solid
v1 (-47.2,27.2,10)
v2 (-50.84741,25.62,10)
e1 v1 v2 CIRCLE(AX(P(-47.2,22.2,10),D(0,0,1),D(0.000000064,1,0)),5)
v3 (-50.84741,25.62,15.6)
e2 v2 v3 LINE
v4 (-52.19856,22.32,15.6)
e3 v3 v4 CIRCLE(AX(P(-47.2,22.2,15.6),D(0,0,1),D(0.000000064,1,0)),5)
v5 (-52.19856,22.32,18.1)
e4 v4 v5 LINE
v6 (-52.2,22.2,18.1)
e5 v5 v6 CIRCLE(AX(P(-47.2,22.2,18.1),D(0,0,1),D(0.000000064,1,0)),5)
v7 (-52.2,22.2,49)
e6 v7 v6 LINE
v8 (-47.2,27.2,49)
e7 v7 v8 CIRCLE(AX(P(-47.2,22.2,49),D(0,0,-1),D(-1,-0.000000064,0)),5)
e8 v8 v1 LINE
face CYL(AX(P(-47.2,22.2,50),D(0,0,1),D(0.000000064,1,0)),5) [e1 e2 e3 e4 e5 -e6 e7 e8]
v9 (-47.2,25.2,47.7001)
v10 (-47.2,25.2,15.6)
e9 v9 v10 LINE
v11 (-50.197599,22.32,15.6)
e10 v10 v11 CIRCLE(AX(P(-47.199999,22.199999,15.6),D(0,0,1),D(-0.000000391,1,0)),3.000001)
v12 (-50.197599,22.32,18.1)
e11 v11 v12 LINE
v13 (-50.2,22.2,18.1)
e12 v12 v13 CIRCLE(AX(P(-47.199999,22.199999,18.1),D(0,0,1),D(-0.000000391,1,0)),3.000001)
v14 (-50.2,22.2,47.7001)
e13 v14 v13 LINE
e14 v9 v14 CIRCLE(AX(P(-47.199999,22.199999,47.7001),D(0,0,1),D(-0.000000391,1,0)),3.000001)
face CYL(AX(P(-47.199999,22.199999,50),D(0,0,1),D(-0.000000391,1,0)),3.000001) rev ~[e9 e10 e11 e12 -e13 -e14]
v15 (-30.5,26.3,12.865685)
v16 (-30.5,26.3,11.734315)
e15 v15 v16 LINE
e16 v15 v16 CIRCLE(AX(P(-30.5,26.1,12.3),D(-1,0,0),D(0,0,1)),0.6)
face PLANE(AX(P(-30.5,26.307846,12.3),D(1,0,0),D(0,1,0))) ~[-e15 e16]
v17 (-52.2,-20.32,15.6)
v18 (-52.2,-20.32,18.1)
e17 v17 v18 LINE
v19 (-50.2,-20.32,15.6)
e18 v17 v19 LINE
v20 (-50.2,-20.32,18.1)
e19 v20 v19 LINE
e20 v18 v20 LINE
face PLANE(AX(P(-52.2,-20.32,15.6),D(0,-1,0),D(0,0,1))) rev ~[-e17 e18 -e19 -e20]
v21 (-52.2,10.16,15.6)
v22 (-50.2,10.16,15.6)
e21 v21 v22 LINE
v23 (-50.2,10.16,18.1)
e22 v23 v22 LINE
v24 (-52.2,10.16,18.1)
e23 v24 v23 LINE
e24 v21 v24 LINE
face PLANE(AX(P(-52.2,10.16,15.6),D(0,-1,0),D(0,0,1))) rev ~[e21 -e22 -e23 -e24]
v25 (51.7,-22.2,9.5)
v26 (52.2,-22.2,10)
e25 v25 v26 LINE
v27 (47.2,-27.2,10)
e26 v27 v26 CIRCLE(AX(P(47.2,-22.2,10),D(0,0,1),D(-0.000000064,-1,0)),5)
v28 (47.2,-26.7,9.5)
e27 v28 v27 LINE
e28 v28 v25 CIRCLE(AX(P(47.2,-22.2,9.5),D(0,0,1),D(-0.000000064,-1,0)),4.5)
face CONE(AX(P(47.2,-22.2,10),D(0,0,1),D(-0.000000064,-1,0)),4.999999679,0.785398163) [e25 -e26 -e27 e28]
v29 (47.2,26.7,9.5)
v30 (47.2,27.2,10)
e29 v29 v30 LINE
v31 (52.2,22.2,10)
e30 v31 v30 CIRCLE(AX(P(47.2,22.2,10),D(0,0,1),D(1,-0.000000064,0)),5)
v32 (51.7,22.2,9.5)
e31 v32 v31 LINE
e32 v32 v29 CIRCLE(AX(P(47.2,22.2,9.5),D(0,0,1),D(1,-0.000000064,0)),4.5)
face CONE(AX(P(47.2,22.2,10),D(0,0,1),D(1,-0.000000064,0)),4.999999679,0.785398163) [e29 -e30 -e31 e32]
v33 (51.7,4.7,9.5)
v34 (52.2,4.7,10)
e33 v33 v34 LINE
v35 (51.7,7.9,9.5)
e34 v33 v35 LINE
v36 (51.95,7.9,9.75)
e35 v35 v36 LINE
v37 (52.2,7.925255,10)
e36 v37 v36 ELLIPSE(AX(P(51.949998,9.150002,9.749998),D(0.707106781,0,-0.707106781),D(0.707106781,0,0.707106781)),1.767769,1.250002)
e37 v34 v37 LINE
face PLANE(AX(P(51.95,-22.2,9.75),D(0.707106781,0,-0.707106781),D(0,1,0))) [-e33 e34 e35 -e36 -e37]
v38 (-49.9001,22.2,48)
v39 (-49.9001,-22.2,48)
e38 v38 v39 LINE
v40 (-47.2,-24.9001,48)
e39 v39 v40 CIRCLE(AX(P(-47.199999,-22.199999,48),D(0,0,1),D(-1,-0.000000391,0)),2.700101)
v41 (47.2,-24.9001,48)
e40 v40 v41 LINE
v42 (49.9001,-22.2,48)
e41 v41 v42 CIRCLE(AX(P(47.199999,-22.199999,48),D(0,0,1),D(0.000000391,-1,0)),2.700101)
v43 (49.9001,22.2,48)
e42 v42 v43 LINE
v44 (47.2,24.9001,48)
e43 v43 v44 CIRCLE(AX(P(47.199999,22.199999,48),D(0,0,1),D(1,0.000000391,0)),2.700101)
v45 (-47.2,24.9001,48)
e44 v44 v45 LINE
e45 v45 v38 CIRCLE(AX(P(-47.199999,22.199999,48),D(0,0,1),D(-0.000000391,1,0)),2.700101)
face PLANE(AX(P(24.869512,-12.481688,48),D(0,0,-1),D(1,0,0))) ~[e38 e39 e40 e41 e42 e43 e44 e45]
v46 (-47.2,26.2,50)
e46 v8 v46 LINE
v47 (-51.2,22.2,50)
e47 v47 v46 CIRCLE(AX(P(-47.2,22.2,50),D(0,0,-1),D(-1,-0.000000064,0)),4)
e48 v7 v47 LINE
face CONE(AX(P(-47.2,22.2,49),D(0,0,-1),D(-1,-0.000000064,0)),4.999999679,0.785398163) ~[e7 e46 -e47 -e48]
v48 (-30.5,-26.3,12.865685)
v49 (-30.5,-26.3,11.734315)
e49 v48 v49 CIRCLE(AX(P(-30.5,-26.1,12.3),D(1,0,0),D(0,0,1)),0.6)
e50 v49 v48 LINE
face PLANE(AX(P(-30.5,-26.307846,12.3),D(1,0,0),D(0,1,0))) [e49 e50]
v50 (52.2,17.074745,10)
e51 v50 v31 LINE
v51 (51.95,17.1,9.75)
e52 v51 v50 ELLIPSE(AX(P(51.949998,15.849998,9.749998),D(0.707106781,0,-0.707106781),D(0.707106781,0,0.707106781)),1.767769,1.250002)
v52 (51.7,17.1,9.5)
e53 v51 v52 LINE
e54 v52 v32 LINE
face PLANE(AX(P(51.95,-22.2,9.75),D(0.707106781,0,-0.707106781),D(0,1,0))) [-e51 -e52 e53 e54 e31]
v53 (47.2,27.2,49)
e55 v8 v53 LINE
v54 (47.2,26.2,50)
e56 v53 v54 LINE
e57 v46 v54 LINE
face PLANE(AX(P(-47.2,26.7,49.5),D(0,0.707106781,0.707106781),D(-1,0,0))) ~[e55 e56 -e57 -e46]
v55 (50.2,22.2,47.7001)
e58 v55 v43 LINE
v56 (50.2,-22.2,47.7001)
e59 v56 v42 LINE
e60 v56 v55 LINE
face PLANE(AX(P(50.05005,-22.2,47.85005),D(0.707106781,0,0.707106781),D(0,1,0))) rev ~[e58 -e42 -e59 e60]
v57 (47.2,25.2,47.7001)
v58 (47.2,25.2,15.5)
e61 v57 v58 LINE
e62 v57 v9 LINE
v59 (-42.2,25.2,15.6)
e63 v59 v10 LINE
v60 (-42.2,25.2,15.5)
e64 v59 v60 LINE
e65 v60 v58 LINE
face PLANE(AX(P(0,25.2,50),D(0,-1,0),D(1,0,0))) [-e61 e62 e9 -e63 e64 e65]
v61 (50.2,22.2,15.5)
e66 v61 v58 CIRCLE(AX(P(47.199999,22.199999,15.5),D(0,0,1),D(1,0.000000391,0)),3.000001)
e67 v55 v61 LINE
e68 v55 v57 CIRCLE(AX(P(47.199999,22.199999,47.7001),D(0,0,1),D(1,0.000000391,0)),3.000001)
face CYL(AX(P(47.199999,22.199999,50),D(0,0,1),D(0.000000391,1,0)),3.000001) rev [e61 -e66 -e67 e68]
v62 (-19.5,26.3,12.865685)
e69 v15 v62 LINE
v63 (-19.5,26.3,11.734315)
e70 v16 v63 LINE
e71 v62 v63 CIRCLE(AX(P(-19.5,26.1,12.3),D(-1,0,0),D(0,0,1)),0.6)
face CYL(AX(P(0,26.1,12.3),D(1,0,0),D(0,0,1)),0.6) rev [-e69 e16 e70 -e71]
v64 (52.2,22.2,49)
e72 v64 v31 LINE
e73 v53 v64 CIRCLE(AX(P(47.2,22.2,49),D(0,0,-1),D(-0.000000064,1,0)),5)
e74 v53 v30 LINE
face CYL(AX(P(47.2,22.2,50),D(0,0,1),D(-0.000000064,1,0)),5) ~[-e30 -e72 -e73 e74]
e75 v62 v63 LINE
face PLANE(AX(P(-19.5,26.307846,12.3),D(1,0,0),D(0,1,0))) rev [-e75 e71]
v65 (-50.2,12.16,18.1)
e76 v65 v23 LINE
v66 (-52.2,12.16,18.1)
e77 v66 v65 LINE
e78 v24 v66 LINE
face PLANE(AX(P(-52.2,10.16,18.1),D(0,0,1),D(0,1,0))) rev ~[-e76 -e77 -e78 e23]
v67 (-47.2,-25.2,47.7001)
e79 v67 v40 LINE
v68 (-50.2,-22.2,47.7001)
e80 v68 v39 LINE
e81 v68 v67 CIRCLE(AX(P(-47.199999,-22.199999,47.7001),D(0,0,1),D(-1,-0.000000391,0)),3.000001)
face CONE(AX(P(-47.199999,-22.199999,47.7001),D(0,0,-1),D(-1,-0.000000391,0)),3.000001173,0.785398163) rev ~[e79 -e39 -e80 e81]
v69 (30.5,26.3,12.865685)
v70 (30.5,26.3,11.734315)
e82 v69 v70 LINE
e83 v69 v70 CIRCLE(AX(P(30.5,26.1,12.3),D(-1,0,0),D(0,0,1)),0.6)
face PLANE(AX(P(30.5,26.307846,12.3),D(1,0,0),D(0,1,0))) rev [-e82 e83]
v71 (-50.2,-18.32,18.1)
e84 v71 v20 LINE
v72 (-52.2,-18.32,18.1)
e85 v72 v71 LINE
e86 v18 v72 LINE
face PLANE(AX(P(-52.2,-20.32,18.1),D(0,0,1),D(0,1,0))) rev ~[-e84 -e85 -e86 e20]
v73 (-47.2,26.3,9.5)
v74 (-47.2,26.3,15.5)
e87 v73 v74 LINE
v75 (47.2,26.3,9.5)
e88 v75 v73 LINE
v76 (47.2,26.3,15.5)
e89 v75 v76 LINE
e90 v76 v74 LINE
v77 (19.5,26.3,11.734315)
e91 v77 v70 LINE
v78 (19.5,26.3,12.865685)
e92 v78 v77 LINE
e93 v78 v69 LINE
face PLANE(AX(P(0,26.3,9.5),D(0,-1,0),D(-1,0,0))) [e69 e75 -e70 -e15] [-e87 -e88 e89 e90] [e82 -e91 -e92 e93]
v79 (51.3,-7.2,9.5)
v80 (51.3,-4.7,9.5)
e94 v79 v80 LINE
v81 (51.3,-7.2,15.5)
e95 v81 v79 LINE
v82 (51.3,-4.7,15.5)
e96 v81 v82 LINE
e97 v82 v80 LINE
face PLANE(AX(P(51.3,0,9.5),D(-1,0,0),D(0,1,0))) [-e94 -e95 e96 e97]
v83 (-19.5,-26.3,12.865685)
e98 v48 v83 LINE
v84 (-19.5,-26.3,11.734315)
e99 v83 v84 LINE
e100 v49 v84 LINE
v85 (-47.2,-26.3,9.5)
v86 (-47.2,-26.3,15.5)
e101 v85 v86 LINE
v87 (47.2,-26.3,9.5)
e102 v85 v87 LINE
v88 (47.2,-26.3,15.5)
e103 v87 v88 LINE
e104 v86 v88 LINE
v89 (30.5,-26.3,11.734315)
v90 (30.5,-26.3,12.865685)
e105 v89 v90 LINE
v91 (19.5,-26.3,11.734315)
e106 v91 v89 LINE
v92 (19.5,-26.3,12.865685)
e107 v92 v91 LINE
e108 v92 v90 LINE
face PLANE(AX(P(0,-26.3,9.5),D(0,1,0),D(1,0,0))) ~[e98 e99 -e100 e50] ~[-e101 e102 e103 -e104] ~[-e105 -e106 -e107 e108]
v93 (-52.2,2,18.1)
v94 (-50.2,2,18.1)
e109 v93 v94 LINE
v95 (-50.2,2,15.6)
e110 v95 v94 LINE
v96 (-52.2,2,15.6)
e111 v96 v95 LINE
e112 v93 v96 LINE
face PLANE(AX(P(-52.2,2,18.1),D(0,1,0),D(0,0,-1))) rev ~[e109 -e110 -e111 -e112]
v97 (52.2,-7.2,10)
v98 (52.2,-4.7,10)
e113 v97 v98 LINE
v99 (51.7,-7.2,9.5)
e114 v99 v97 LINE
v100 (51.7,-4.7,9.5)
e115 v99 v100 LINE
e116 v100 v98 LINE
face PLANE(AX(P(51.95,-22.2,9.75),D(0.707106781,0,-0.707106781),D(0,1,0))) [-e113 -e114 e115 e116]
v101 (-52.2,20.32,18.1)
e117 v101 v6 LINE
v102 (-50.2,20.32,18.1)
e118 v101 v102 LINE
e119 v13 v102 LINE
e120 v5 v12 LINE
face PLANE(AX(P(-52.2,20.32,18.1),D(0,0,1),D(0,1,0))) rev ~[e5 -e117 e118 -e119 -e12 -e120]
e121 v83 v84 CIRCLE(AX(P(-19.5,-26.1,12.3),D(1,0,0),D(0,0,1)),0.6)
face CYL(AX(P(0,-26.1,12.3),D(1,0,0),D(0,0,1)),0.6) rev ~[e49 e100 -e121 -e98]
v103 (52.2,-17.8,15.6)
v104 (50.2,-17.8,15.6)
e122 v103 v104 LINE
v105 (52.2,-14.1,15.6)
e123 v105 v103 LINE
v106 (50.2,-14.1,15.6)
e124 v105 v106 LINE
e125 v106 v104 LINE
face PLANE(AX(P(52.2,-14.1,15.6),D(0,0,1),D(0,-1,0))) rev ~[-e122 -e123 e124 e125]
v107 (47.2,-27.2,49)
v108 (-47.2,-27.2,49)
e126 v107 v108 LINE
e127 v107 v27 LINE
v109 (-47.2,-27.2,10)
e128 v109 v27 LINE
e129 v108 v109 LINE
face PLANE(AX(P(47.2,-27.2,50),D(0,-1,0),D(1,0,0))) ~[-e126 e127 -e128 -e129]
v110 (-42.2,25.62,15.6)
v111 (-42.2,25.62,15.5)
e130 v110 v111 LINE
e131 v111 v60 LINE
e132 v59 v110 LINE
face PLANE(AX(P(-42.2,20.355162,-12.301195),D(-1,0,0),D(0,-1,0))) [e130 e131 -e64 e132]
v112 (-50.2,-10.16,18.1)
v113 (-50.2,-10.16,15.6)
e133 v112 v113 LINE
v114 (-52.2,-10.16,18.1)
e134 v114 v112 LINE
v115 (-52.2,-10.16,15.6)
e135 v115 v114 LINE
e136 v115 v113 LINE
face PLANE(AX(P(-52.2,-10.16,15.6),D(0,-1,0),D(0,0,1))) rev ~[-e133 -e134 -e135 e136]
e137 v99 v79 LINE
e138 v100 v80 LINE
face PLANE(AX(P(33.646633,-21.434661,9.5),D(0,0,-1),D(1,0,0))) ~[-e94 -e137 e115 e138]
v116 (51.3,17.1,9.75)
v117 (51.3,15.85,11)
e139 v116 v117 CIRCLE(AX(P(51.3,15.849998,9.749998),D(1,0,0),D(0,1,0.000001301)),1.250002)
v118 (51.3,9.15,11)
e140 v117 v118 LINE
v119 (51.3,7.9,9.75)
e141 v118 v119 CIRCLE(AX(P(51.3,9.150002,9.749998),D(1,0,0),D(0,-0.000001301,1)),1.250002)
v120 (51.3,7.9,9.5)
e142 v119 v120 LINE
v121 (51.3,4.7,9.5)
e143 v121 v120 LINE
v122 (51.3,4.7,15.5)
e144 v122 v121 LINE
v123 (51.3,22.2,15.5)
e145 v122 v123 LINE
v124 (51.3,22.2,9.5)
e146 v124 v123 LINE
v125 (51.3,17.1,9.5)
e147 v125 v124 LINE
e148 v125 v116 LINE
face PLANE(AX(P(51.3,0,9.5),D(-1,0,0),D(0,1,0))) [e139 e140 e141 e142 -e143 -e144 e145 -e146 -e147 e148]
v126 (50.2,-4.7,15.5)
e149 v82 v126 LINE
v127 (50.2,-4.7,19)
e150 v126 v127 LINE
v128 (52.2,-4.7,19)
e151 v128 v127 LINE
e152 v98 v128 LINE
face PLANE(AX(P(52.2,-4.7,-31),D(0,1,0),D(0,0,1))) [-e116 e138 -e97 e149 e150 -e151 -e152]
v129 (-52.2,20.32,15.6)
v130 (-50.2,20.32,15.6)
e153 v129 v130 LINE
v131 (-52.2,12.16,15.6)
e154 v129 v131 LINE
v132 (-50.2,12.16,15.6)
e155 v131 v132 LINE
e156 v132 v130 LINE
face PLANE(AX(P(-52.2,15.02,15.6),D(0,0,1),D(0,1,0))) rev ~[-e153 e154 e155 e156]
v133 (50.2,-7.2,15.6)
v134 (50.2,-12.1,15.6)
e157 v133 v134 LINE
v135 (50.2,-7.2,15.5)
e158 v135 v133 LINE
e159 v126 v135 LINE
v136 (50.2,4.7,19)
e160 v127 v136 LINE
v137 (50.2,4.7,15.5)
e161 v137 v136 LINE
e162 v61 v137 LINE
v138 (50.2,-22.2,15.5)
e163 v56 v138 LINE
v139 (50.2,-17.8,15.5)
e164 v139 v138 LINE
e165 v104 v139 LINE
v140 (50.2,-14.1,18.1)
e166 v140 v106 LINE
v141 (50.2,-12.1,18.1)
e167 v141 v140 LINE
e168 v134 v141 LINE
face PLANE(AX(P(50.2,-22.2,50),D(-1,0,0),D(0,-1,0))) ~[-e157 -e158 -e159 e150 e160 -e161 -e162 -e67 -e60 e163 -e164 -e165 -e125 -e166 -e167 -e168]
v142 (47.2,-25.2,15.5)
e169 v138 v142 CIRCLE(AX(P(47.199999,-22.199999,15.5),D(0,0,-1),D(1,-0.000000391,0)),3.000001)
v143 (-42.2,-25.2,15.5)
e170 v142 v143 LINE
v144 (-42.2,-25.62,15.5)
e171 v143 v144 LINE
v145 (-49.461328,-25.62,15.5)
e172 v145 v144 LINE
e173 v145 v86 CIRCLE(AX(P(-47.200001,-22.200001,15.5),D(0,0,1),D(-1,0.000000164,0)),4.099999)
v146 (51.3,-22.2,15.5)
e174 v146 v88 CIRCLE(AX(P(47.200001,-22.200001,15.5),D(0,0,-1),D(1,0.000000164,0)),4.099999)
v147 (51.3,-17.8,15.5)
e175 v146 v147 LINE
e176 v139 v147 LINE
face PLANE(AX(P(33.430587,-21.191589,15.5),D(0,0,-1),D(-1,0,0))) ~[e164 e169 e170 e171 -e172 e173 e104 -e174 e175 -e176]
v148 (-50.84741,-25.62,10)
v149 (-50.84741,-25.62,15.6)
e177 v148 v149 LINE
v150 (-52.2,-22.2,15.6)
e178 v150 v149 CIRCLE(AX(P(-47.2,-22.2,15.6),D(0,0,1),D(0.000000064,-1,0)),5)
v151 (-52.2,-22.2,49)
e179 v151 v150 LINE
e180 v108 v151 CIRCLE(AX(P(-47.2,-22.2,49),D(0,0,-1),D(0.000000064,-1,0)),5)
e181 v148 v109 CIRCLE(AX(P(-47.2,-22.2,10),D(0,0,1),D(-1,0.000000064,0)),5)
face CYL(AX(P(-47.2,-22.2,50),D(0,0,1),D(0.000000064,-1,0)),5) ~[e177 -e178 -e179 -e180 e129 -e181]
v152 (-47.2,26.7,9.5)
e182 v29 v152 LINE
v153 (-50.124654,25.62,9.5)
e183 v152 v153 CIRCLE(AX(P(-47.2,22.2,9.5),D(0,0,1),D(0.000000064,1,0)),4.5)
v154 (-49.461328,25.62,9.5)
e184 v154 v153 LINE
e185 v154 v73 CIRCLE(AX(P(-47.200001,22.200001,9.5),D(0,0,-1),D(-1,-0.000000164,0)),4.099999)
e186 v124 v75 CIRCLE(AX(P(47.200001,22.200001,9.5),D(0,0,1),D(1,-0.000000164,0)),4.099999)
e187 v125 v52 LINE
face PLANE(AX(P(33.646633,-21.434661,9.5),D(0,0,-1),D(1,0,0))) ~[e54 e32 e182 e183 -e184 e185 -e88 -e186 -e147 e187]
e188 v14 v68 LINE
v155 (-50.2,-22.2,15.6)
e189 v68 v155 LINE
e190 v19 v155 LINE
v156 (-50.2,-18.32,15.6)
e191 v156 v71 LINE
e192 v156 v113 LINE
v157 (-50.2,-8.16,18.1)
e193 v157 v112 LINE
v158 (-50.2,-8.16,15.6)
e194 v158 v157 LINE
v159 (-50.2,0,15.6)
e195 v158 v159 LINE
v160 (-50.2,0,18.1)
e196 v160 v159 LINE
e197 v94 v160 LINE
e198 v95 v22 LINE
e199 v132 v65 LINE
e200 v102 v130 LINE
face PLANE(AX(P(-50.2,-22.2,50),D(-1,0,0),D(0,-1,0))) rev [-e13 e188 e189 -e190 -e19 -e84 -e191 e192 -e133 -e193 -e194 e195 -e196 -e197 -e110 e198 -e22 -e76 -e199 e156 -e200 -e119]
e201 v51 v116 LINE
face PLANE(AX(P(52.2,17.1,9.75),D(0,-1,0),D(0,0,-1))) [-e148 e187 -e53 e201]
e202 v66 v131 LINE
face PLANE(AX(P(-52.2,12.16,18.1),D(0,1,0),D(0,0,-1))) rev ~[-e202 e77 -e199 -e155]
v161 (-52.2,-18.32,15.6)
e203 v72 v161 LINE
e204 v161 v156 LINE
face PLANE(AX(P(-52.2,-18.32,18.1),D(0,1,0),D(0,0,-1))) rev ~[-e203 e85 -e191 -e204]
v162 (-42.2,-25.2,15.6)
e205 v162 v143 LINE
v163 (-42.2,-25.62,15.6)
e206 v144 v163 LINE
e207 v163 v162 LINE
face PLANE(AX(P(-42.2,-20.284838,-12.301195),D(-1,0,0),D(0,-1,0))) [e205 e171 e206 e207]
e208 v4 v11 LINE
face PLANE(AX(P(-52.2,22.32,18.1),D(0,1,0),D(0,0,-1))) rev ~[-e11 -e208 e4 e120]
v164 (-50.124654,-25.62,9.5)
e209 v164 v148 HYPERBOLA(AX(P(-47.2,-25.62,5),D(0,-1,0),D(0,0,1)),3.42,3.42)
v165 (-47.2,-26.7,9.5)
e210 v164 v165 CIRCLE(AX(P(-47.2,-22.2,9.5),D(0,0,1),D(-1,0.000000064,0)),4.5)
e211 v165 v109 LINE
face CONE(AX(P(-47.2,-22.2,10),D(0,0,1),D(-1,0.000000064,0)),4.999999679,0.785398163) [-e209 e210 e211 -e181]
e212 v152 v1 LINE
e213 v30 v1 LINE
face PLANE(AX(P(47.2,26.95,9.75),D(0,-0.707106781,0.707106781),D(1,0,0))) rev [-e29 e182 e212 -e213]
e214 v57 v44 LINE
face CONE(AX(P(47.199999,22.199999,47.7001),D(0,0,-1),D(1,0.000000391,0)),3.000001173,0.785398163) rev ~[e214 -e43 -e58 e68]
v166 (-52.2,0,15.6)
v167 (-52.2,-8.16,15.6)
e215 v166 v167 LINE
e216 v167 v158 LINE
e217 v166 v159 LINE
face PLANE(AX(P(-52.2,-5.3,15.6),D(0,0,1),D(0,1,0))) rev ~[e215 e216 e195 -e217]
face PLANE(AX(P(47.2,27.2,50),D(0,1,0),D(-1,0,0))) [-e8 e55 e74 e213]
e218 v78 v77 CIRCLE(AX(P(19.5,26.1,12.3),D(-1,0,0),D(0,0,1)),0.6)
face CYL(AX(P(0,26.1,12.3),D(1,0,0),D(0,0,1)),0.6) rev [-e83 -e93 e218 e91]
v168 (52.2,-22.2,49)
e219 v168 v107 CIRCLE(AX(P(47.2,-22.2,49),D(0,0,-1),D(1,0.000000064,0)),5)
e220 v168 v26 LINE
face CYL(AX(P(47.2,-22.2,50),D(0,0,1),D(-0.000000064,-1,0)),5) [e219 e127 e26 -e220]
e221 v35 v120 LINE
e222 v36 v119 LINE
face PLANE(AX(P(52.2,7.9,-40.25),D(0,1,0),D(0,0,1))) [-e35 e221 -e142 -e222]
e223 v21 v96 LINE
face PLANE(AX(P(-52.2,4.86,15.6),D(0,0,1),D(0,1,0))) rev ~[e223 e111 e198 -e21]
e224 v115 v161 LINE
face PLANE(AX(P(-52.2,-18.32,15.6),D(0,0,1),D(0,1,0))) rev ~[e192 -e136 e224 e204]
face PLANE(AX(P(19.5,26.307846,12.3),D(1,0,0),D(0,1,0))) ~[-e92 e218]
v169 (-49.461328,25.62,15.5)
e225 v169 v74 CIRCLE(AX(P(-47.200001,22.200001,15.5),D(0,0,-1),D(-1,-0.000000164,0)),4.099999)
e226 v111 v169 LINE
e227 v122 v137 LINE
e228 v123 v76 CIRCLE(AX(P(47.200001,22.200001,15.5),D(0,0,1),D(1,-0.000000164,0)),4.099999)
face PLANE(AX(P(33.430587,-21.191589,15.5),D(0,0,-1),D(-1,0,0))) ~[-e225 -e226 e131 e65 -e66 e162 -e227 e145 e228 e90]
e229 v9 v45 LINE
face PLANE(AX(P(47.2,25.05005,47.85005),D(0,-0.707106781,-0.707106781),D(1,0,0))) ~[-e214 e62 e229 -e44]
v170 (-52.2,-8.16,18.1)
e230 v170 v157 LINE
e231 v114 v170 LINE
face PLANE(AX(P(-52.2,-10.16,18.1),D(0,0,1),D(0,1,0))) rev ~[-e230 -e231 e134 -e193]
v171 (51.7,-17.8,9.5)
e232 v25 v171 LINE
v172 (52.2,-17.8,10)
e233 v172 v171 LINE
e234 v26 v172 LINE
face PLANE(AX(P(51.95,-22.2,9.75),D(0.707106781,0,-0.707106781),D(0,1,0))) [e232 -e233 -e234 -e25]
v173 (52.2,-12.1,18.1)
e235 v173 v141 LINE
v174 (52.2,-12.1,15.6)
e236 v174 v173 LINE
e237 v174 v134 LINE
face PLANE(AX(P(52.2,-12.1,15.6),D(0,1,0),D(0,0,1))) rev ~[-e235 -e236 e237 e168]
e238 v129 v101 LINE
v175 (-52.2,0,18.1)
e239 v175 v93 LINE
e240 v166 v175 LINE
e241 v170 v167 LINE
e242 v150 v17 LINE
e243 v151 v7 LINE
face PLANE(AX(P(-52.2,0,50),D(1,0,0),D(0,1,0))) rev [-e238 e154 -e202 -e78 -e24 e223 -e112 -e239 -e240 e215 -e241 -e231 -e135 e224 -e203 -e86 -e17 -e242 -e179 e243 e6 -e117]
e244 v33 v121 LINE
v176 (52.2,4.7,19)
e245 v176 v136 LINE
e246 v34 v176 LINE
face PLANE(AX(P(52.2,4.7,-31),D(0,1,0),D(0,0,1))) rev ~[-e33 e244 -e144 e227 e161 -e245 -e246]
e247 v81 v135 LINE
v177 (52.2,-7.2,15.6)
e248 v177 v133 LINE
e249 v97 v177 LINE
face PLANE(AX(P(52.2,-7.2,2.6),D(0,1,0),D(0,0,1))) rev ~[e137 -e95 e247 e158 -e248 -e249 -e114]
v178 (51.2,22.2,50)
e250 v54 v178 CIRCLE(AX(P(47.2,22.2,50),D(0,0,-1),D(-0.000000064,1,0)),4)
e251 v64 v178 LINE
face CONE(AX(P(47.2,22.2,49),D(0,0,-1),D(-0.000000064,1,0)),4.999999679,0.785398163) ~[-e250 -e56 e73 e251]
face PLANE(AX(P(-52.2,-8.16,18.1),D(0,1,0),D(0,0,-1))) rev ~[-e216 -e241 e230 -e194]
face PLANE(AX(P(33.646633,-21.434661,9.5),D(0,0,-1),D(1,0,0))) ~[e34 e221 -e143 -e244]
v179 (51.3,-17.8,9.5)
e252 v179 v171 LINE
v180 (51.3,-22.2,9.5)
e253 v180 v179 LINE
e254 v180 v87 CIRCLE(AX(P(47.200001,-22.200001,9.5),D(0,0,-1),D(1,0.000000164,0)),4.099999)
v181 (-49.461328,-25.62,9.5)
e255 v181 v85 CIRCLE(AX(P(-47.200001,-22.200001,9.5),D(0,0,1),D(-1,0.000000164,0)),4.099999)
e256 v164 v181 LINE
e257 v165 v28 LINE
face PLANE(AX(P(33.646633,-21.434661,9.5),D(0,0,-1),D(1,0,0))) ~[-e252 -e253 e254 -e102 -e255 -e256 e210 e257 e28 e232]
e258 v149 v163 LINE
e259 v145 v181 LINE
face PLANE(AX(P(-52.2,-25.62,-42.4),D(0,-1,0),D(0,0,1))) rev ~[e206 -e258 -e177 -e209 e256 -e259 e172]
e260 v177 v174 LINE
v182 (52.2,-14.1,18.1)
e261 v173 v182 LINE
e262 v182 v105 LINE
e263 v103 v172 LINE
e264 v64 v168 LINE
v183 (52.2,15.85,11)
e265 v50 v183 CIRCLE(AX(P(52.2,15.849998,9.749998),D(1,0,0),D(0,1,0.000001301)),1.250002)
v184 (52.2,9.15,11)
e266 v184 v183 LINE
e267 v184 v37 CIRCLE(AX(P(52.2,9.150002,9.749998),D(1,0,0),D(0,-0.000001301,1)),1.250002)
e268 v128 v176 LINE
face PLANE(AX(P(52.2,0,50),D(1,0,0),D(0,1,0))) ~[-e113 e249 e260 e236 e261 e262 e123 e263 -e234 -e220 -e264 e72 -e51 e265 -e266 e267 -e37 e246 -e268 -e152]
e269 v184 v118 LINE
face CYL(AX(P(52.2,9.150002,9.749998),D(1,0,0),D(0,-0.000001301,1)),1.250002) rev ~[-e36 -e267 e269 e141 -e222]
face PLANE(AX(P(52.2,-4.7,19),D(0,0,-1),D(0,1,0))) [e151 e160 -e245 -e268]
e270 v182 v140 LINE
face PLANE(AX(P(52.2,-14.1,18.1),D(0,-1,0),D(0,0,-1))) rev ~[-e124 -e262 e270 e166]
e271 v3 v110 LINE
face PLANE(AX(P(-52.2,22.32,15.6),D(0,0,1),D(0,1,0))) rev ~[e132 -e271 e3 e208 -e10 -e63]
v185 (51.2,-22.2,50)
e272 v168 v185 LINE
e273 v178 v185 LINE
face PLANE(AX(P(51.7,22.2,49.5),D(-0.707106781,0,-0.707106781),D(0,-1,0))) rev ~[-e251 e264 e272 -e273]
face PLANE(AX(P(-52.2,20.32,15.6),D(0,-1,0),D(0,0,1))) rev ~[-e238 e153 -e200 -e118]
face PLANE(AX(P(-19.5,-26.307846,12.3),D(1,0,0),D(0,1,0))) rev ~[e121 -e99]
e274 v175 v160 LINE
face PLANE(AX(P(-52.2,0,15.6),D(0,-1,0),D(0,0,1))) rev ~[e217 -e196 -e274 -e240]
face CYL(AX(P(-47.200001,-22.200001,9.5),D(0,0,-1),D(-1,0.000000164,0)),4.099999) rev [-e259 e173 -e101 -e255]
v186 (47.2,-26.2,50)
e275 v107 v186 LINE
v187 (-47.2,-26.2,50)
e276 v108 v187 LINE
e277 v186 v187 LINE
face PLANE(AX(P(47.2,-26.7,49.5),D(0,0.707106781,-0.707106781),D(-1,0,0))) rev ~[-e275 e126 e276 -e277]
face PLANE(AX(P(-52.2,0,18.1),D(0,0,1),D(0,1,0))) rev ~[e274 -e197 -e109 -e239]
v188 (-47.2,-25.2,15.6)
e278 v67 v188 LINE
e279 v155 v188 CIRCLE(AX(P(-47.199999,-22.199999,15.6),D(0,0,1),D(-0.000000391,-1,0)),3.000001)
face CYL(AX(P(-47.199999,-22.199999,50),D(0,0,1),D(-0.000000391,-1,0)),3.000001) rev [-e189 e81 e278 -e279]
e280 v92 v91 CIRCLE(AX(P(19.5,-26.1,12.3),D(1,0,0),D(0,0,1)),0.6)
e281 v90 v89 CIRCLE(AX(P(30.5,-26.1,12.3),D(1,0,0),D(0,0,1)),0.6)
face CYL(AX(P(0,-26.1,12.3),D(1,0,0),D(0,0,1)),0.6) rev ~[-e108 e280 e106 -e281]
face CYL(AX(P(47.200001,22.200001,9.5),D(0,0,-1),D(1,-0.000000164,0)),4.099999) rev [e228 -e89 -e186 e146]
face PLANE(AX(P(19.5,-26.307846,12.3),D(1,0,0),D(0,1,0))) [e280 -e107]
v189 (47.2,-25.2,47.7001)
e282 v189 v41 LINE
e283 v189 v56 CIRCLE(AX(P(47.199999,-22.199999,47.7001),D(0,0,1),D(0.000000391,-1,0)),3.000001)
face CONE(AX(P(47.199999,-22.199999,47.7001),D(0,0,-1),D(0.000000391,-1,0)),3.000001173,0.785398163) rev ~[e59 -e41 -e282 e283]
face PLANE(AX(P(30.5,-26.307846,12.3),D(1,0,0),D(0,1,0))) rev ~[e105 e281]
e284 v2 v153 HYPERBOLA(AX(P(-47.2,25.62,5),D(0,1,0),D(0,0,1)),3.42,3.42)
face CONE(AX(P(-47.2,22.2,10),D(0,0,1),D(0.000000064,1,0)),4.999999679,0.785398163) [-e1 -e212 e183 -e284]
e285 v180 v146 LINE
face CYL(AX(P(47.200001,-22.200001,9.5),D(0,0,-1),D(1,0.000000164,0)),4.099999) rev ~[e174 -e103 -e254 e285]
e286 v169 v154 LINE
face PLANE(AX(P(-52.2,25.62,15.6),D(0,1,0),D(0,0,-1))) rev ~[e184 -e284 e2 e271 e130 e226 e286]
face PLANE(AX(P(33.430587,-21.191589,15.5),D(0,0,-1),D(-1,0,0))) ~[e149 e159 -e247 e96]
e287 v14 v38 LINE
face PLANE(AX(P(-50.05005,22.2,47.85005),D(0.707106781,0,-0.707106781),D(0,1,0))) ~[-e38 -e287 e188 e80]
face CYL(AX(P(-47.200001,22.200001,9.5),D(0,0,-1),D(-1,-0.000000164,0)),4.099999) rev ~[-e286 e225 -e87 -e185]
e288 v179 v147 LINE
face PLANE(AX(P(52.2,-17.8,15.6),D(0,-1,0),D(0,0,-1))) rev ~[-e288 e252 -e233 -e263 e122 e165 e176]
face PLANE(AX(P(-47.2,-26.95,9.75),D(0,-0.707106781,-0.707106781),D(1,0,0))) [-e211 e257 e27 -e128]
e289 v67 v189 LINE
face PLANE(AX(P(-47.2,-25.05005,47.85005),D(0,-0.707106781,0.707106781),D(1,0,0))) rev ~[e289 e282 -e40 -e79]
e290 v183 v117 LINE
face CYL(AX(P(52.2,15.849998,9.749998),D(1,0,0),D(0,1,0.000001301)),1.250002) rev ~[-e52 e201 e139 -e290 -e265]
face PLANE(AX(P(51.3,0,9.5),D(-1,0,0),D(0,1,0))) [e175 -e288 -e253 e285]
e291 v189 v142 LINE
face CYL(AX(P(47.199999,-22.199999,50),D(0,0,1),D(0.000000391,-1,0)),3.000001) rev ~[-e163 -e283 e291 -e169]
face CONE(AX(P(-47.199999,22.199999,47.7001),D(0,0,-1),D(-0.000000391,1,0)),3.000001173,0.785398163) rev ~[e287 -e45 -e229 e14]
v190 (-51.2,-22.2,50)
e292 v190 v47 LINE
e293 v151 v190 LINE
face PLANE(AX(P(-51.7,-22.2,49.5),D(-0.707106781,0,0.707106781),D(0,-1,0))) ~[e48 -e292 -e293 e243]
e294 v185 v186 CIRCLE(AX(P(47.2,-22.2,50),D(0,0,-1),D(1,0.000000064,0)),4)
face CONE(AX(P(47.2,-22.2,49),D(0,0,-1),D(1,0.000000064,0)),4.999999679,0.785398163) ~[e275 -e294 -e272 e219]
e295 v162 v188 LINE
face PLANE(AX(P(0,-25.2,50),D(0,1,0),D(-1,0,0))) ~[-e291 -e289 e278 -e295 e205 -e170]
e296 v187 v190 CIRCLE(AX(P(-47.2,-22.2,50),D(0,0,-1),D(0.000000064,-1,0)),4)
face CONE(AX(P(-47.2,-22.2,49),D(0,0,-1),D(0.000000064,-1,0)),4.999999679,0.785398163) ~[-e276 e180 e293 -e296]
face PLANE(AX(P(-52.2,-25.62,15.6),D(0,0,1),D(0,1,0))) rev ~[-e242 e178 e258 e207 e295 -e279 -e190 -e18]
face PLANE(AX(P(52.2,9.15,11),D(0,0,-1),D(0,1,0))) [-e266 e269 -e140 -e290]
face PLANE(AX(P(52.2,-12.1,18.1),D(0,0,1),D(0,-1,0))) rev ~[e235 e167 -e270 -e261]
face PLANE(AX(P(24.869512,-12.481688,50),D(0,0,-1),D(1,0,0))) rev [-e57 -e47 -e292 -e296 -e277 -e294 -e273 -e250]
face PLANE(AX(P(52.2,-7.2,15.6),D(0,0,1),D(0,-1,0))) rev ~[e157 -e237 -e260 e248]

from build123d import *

# Parameters (mm, degrees)
PAD021_DEPTH                  = 40.5
POCKET064_DEPTH               = 6
PAD021_MIRRORED041_2_DEPTH    = 40.5
POCKET064_MIRRORED041_2_DEPTH = 6
PAD022_DEPTH                  = 2
PAD022_MIRRORED032_2_DEPTH    = 2
POCKET055_DEPTH               = 30.5
PAD018_DEPTH                  = 19.5
PAD018_FACE36_W               = 39
PAD018_FACE36_H               = 1.2
POCKET061_DEPTH               = 0.2
CHAMFER032_SIZE               = 0.5
CHAMFER030_SIZE               = 1
CHAMFER027_SIZE               = 0.2999
POCKET058_DEPTH               = 10
SKETCH064_W                   = 9.4
SKETCH064_H                   = 50
POCKET070_DEPTH               = 15
POCKET059_DEPTH               = 5
POCKET069_DEPTH               = 10
POCKET062_DEPTH               = 10
POCKET051_DEPTH               = 10
POCKET067_DEPTH               = 10
POCKET054_DEPTH               = 10


with BuildPart() as part:
    # Sketch081 (on DatumPlane) → Pad021 (new body)
    with BuildSketch(Plane.XY.offset(50)):
        with BuildLine():
            ThreePointArc((-47.2, 27.2), (-50.735534, 25.735534), (-52.2, 22.2))
            Line((-52.2, 0), (-52.2, 22.2))
            Line((-50.2, 0), (-52.2, 0))
            Line((-50.2, 22.2), (-50.2, 0))
            ThreePointArc((-47.2, 25.2), (-49.32132, 24.32132), (-50.2, 22.2))
            Line((0, 25.2), (-47.2, 25.2))
            Line((0, 27.2), (0, 25.2))
            Line((-47.2, 27.2), (0, 27.2))
        make_face()
    pad021 = extrude(amount=-PAD021_DEPTH)

    # Sketch080 (on Face10 of Pad021) → Pocket064 (cut)
    with BuildSketch(Plane(origin=(0, 0, 9.5), x_dir=(1, 0, 0), z_dir=(0, 0, -1))):
        with BuildLine():
            ThreePointArc((-50.2, -22.2), (-49.32132, -24.32132), (-47.2, -25.2))
            Line((-47.2, -25.2), (0, -25.2))
            Line((0, -25.2), (0, -26.3))
            Line((0, -26.3), (-47.2, -26.3))
            ThreePointArc((-51.3, -22.2), (-50.099138, -25.099138), (-47.2, -26.3))
            Line((-51.3, 0), (-51.3, -22.2))
            Line((-50.2, 0), (-51.3, 0))
            Line((-50.2, -22.2), (-50.2, 0))
        make_face()
    pocket064 = extrude(amount=-POCKET064_DEPTH, mode=Mode.SUBTRACT)

    # Sketch081 Mirrored041 2 → Pad021 Mirrored041 2 (add)
    with BuildSketch(Plane(origin=(0, 0, 50), x_dir=(-1, 0, 0), z_dir=(0, 0, -1))):
        with BuildLine():
            ThreePointArc((-47.2, 27.2), (-50.735534, 25.735534), (-52.2, 22.2))
            Line((-52.2, 0), (-52.2, 22.2))
            Line((-50.2, 0), (-52.2, 0))
            Line((-50.2, 22.2), (-50.2, 0))
            ThreePointArc((-47.2, 25.2), (-49.32132, 24.32132), (-50.2, 22.2))
            Line((0, 25.2), (-47.2, 25.2))
            Line((0, 27.2), (0, 25.2))
            Line((-47.2, 27.2), (0, 27.2))
        make_face()
    pad021_mirrored041_2 = extrude(amount=PAD021_MIRRORED041_2_DEPTH)

    # Sketch080 Mirrored041 2 → Pocket064 Mirrored041 2 (cut)
    with BuildSketch(Plane(origin=(0, 0, 9.5), x_dir=(-1, 0, 0), z_dir=(0, 0, 1))):
        with BuildLine():
            ThreePointArc((-50.2, -22.2), (-49.32132, -24.32132), (-47.2, -25.2))
            Line((-47.2, -25.2), (0, -25.2))
            Line((0, -25.2), (0, -26.3))
            Line((0, -26.3), (-47.2, -26.3))
            ThreePointArc((-51.3, -22.2), (-50.099138, -25.099138), (-47.2, -26.3))
            Line((-51.3, 0), (-51.3, -22.2))
            Line((-50.2, 0), (-51.3, 0))
            Line((-50.2, -22.2), (-50.2, 0))
        make_face()
    pocket064_mirrored041_2 = extrude(amount=POCKET064_MIRRORED041_2_DEPTH, mode=Mode.SUBTRACT)

    # Mirrored036: Pad021, Pocket064, Pad021 Mirrored041 2, Pocket064 Mirrored041 2 across Sketch081 H_Axis
    add(pad021.mirror(Plane(origin=(0, 0, 50), x_dir=(0, 0, 1), z_dir=(0, 1, 0))))
    add(pocket064.mirror(Plane(origin=(0, 0, 50), x_dir=(0, 0, 1), z_dir=(0, 1, 0))), mode=Mode.SUBTRACT)
    add(pad021_mirrored041_2.mirror(Plane(origin=(0, 0, 50), x_dir=(0, 0, 1), z_dir=(0, 1, 0))))
    add(pocket064_mirrored041_2.mirror(Plane(origin=(0, 0, 50), x_dir=(0, 0, 1), z_dir=(0, 1, 0))), mode=Mode.SUBTRACT)

    # Sketch058 (on DatumPlane) → Pad022 (join)
    with BuildSketch(Plane.XY.offset(50)):
        with BuildLine():
            ThreePointArc((-47.2, 25.2), (-49.32132, 24.32132), (-50.2, 22.2))
            Line((-50.2, 22.2), (-50.2, 0))
            Line((-50.2, 0), (0, 0))
            Line((0, 0), (0, 25.2))
            Line((0, 25.2), (-47.2, 25.2))
        make_face()
    pad022 = extrude(amount=-PAD022_DEPTH)

    # Sketch058 Mirrored032 2 → Pad022 Mirrored032 2 (add)
    with BuildSketch(Plane(origin=(0, 0, 50), x_dir=(-1, 0, 0), z_dir=(0, 0, -1))):
        with BuildLine():
            ThreePointArc((-47.2, 25.2), (-49.32132, 24.32132), (-50.2, 22.2))
            Line((-50.2, 22.2), (-50.2, 0))
            Line((-50.2, 0), (0, 0))
            Line((0, 0), (0, 25.2))
            Line((0, 25.2), (-47.2, 25.2))
        make_face()
    pad022_mirrored032_2 = extrude(amount=PAD022_MIRRORED032_2_DEPTH)

    # Mirrored039: Pad022, Pad022 Mirrored032 2 across Sketch058 H_Axis
    add(pad022.mirror(Plane(origin=(0, 0, 50), x_dir=(0, 0, 1), z_dir=(0, 1, 0))))
    add(pad022_mirrored032_2.mirror(Plane(origin=(0, 0, 50), x_dir=(0, 0, 1), z_dir=(0, 1, 0))))

    # Sketch067 → Pocket055 (cut, symmetric)
    with BuildSketch(Plane.YZ):
        with BuildLine():
            ThreePointArc((-26.1, 12.9), (-26.7, 12.3), (-26.1, 11.7))
            Line((-26.1, 12.9), (-26.1, 11.7))
        make_face()
    pocket055 = extrude(amount=POCKET055_DEPTH, both=True, mode=Mode.SUBTRACT)

    # Sketch067 → Pad018 (join, symmetric)
    with BuildSketch(Plane.YZ):
        with BuildLine():
            ThreePointArc((-26.1, 12.9), (-26.7, 12.3), (-26.1, 11.7))
            Line((-26.1, 12.9), (-26.1, 11.7))
        make_face()
    pad018 = extrude(amount=PAD018_DEPTH, both=True)

    # Pad018 Face36 → Pocket061 (cut)
    with BuildSketch(Plane(origin=(0, -26.1, 12.3), x_dir=(1, 0, 0), z_dir=(0, 1, 0))):
        Rectangle(PAD018_FACE36_W, PAD018_FACE36_H)
    pocket061 = extrude(amount=-POCKET061_DEPTH, mode=Mode.SUBTRACT)

    # Mirrored040: Pocket055, Pad018, Pocket061 across Sketch067 V_Axis
    add(pocket055.mirror(Plane(origin=(0, 0, 0), x_dir=(1, 0, 0), z_dir=(0, 1, 0))), mode=Mode.SUBTRACT)
    add(pad018.mirror(Plane(origin=(0, 0, 0), x_dir=(1, 0, 0), z_dir=(0, 1, 0))))
    add(pocket061.mirror(Plane(origin=(0, 0, 0), x_dir=(1, 0, 0), z_dir=(0, 1, 0))), mode=Mode.SUBTRACT)

    # Chamfer032
    chamfer032_edges = [part.edges().sort_by_distance(p)[0] for p in [
        (0, -27.2, 9.5),
    ]]
    chamfer(chamfer032_edges, length=CHAMFER032_SIZE)

    # Chamfer030
    chamfer030_edges = [part.edges().sort_by_distance(p)[0] for p in [
        (0, -27.2, 50),
    ]]
    chamfer(chamfer030_edges, length=CHAMFER030_SIZE)

    # Chamfer027
    chamfer027_edges = [part.edges().sort_by_distance(p)[0] for p in [
        (50.2, 0, 48),
    ]]
    chamfer(chamfer027_edges, length=CHAMFER027_SIZE)

    # Sketch079 (on DatumPlane) → Pocket058 (cut)
    with BuildSketch(Plane.YZ.offset(52.2)):
        Polygon((-7.2, 7.6), (-7.2, 15.6), (-12.1, 15.6), (-12.1, 18.1), (-14.1, 18.1), (-14.1, 15.6), (-17.8, 15.6), (-17.8, 7.6), (-17.8, 2.6), (-7.2, 2.6), align=None)
    extrude(amount=-POCKET058_DEPTH, mode=Mode.SUBTRACT)

    # Sketch064 (on DatumPlane) → Pocket070 (cut)
    with BuildSketch(Plane.YZ.offset(52.2)):
        with Locations((0, -6)):
            Rectangle(SKETCH064_W, SKETCH064_H)
    extrude(amount=-POCKET070_DEPTH, mode=Mode.SUBTRACT)

    # Sketch065 (on DatumPlane) → Pocket059 (cut)
    with BuildSketch(Plane.YZ.offset(52.2)):
        with BuildLine():
            Line((7.9, -40.25), (7.9, 9.75))
            ThreePointArc((9.15, 11), (8.266117, 10.633883), (7.9, 9.75))
            Line((9.15, 11), (15.85, 11))
            ThreePointArc((17.1, 9.75), (16.733883, 10.633883), (15.85, 11))
            Line((17.1, 9.75), (17.1, -40.25))
            Line((7.9, -40.25), (17.1, -40.25))
        make_face()
    extrude(amount=-POCKET059_DEPTH, mode=Mode.SUBTRACT)

    # Sketch078 (on DatumPlane) → Pocket069 (cut)
    with BuildSketch(Plane(origin=(-52.2, 0, 0), x_dir=(0, -1, 0), z_dir=(-1, 0, 0))):
        Polygon((-15.02, 7.6), (-15.02, 15.6), (-20.32, 15.6), (-20.32, 18.1), (-22.32, 18.1), (-22.32, 15.6), (-25.62, 15.6), (-25.62, 7.6), (-25.62, -42.4), (-15.02, -42.4), align=None)
    extrude(amount=-POCKET069_DEPTH, mode=Mode.SUBTRACT)

    # Sketch075 (on DatumPlane) → Pocket062 (cut)
    with BuildSketch(Plane(origin=(-52.2, 0, 0), x_dir=(0, -1, 0), z_dir=(-1, 0, 0))):
        Polygon((-4.86, 7.6), (-4.86, 15.6), (-10.16, 15.6), (-10.16, 18.1), (-12.16, 18.1), (-12.16, 15.6), (-15.46, 15.6), (-15.46, 7.6), (-15.46, -42.4), (-4.86, -42.4), align=None)
    extrude(amount=-POCKET062_DEPTH, mode=Mode.SUBTRACT)

    # Sketch073 (on DatumPlane) → Pocket051 (cut)
    with BuildSketch(Plane(origin=(-52.2, 0, 0), x_dir=(0, -1, 0), z_dir=(-1, 0, 0))):
        Polygon((5.3, 7.6), (5.3, 15.6), (0, 15.6), (0, 18.1), (-2, 18.1), (-2, 15.6), (-5.3, 15.6), (-5.3, 7.6), (-5.3, -42.4), (5.3, -42.4), align=None)
    extrude(amount=-POCKET051_DEPTH, mode=Mode.SUBTRACT)

    # Sketch077 (on DatumPlane) → Pocket067 (cut)
    with BuildSketch(Plane(origin=(-52.2, 0, 0), x_dir=(0, -1, 0), z_dir=(-1, 0, 0))):
        Polygon((15.46, 7.6), (15.46, 15.6), (10.16, 15.6), (10.16, 18.1), (8.16, 18.1), (8.16, 15.6), (4.86, 15.6), (4.86, 7.6), (4.86, -42.4), (15.46, -42.4), align=None)
    extrude(amount=-POCKET067_DEPTH, mode=Mode.SUBTRACT)

    # Sketch066 (on DatumPlane) → Pocket054 (cut)
    with BuildSketch(Plane(origin=(-52.2, 0, 0), x_dir=(0, -1, 0), z_dir=(-1, 0, 0))):
        Polygon((25.62, 7.6), (25.62, 15.6), (20.32, 15.6), (20.32, 18.1), (18.32, 18.1), (18.32, 15.6), (15.02, 15.6), (15.02, 7.6), (15.02, -42.4), (25.62, -42.4), align=None)
    extrude(amount=-POCKET054_DEPTH, mode=Mode.SUBTRACT)


solid = part.part
